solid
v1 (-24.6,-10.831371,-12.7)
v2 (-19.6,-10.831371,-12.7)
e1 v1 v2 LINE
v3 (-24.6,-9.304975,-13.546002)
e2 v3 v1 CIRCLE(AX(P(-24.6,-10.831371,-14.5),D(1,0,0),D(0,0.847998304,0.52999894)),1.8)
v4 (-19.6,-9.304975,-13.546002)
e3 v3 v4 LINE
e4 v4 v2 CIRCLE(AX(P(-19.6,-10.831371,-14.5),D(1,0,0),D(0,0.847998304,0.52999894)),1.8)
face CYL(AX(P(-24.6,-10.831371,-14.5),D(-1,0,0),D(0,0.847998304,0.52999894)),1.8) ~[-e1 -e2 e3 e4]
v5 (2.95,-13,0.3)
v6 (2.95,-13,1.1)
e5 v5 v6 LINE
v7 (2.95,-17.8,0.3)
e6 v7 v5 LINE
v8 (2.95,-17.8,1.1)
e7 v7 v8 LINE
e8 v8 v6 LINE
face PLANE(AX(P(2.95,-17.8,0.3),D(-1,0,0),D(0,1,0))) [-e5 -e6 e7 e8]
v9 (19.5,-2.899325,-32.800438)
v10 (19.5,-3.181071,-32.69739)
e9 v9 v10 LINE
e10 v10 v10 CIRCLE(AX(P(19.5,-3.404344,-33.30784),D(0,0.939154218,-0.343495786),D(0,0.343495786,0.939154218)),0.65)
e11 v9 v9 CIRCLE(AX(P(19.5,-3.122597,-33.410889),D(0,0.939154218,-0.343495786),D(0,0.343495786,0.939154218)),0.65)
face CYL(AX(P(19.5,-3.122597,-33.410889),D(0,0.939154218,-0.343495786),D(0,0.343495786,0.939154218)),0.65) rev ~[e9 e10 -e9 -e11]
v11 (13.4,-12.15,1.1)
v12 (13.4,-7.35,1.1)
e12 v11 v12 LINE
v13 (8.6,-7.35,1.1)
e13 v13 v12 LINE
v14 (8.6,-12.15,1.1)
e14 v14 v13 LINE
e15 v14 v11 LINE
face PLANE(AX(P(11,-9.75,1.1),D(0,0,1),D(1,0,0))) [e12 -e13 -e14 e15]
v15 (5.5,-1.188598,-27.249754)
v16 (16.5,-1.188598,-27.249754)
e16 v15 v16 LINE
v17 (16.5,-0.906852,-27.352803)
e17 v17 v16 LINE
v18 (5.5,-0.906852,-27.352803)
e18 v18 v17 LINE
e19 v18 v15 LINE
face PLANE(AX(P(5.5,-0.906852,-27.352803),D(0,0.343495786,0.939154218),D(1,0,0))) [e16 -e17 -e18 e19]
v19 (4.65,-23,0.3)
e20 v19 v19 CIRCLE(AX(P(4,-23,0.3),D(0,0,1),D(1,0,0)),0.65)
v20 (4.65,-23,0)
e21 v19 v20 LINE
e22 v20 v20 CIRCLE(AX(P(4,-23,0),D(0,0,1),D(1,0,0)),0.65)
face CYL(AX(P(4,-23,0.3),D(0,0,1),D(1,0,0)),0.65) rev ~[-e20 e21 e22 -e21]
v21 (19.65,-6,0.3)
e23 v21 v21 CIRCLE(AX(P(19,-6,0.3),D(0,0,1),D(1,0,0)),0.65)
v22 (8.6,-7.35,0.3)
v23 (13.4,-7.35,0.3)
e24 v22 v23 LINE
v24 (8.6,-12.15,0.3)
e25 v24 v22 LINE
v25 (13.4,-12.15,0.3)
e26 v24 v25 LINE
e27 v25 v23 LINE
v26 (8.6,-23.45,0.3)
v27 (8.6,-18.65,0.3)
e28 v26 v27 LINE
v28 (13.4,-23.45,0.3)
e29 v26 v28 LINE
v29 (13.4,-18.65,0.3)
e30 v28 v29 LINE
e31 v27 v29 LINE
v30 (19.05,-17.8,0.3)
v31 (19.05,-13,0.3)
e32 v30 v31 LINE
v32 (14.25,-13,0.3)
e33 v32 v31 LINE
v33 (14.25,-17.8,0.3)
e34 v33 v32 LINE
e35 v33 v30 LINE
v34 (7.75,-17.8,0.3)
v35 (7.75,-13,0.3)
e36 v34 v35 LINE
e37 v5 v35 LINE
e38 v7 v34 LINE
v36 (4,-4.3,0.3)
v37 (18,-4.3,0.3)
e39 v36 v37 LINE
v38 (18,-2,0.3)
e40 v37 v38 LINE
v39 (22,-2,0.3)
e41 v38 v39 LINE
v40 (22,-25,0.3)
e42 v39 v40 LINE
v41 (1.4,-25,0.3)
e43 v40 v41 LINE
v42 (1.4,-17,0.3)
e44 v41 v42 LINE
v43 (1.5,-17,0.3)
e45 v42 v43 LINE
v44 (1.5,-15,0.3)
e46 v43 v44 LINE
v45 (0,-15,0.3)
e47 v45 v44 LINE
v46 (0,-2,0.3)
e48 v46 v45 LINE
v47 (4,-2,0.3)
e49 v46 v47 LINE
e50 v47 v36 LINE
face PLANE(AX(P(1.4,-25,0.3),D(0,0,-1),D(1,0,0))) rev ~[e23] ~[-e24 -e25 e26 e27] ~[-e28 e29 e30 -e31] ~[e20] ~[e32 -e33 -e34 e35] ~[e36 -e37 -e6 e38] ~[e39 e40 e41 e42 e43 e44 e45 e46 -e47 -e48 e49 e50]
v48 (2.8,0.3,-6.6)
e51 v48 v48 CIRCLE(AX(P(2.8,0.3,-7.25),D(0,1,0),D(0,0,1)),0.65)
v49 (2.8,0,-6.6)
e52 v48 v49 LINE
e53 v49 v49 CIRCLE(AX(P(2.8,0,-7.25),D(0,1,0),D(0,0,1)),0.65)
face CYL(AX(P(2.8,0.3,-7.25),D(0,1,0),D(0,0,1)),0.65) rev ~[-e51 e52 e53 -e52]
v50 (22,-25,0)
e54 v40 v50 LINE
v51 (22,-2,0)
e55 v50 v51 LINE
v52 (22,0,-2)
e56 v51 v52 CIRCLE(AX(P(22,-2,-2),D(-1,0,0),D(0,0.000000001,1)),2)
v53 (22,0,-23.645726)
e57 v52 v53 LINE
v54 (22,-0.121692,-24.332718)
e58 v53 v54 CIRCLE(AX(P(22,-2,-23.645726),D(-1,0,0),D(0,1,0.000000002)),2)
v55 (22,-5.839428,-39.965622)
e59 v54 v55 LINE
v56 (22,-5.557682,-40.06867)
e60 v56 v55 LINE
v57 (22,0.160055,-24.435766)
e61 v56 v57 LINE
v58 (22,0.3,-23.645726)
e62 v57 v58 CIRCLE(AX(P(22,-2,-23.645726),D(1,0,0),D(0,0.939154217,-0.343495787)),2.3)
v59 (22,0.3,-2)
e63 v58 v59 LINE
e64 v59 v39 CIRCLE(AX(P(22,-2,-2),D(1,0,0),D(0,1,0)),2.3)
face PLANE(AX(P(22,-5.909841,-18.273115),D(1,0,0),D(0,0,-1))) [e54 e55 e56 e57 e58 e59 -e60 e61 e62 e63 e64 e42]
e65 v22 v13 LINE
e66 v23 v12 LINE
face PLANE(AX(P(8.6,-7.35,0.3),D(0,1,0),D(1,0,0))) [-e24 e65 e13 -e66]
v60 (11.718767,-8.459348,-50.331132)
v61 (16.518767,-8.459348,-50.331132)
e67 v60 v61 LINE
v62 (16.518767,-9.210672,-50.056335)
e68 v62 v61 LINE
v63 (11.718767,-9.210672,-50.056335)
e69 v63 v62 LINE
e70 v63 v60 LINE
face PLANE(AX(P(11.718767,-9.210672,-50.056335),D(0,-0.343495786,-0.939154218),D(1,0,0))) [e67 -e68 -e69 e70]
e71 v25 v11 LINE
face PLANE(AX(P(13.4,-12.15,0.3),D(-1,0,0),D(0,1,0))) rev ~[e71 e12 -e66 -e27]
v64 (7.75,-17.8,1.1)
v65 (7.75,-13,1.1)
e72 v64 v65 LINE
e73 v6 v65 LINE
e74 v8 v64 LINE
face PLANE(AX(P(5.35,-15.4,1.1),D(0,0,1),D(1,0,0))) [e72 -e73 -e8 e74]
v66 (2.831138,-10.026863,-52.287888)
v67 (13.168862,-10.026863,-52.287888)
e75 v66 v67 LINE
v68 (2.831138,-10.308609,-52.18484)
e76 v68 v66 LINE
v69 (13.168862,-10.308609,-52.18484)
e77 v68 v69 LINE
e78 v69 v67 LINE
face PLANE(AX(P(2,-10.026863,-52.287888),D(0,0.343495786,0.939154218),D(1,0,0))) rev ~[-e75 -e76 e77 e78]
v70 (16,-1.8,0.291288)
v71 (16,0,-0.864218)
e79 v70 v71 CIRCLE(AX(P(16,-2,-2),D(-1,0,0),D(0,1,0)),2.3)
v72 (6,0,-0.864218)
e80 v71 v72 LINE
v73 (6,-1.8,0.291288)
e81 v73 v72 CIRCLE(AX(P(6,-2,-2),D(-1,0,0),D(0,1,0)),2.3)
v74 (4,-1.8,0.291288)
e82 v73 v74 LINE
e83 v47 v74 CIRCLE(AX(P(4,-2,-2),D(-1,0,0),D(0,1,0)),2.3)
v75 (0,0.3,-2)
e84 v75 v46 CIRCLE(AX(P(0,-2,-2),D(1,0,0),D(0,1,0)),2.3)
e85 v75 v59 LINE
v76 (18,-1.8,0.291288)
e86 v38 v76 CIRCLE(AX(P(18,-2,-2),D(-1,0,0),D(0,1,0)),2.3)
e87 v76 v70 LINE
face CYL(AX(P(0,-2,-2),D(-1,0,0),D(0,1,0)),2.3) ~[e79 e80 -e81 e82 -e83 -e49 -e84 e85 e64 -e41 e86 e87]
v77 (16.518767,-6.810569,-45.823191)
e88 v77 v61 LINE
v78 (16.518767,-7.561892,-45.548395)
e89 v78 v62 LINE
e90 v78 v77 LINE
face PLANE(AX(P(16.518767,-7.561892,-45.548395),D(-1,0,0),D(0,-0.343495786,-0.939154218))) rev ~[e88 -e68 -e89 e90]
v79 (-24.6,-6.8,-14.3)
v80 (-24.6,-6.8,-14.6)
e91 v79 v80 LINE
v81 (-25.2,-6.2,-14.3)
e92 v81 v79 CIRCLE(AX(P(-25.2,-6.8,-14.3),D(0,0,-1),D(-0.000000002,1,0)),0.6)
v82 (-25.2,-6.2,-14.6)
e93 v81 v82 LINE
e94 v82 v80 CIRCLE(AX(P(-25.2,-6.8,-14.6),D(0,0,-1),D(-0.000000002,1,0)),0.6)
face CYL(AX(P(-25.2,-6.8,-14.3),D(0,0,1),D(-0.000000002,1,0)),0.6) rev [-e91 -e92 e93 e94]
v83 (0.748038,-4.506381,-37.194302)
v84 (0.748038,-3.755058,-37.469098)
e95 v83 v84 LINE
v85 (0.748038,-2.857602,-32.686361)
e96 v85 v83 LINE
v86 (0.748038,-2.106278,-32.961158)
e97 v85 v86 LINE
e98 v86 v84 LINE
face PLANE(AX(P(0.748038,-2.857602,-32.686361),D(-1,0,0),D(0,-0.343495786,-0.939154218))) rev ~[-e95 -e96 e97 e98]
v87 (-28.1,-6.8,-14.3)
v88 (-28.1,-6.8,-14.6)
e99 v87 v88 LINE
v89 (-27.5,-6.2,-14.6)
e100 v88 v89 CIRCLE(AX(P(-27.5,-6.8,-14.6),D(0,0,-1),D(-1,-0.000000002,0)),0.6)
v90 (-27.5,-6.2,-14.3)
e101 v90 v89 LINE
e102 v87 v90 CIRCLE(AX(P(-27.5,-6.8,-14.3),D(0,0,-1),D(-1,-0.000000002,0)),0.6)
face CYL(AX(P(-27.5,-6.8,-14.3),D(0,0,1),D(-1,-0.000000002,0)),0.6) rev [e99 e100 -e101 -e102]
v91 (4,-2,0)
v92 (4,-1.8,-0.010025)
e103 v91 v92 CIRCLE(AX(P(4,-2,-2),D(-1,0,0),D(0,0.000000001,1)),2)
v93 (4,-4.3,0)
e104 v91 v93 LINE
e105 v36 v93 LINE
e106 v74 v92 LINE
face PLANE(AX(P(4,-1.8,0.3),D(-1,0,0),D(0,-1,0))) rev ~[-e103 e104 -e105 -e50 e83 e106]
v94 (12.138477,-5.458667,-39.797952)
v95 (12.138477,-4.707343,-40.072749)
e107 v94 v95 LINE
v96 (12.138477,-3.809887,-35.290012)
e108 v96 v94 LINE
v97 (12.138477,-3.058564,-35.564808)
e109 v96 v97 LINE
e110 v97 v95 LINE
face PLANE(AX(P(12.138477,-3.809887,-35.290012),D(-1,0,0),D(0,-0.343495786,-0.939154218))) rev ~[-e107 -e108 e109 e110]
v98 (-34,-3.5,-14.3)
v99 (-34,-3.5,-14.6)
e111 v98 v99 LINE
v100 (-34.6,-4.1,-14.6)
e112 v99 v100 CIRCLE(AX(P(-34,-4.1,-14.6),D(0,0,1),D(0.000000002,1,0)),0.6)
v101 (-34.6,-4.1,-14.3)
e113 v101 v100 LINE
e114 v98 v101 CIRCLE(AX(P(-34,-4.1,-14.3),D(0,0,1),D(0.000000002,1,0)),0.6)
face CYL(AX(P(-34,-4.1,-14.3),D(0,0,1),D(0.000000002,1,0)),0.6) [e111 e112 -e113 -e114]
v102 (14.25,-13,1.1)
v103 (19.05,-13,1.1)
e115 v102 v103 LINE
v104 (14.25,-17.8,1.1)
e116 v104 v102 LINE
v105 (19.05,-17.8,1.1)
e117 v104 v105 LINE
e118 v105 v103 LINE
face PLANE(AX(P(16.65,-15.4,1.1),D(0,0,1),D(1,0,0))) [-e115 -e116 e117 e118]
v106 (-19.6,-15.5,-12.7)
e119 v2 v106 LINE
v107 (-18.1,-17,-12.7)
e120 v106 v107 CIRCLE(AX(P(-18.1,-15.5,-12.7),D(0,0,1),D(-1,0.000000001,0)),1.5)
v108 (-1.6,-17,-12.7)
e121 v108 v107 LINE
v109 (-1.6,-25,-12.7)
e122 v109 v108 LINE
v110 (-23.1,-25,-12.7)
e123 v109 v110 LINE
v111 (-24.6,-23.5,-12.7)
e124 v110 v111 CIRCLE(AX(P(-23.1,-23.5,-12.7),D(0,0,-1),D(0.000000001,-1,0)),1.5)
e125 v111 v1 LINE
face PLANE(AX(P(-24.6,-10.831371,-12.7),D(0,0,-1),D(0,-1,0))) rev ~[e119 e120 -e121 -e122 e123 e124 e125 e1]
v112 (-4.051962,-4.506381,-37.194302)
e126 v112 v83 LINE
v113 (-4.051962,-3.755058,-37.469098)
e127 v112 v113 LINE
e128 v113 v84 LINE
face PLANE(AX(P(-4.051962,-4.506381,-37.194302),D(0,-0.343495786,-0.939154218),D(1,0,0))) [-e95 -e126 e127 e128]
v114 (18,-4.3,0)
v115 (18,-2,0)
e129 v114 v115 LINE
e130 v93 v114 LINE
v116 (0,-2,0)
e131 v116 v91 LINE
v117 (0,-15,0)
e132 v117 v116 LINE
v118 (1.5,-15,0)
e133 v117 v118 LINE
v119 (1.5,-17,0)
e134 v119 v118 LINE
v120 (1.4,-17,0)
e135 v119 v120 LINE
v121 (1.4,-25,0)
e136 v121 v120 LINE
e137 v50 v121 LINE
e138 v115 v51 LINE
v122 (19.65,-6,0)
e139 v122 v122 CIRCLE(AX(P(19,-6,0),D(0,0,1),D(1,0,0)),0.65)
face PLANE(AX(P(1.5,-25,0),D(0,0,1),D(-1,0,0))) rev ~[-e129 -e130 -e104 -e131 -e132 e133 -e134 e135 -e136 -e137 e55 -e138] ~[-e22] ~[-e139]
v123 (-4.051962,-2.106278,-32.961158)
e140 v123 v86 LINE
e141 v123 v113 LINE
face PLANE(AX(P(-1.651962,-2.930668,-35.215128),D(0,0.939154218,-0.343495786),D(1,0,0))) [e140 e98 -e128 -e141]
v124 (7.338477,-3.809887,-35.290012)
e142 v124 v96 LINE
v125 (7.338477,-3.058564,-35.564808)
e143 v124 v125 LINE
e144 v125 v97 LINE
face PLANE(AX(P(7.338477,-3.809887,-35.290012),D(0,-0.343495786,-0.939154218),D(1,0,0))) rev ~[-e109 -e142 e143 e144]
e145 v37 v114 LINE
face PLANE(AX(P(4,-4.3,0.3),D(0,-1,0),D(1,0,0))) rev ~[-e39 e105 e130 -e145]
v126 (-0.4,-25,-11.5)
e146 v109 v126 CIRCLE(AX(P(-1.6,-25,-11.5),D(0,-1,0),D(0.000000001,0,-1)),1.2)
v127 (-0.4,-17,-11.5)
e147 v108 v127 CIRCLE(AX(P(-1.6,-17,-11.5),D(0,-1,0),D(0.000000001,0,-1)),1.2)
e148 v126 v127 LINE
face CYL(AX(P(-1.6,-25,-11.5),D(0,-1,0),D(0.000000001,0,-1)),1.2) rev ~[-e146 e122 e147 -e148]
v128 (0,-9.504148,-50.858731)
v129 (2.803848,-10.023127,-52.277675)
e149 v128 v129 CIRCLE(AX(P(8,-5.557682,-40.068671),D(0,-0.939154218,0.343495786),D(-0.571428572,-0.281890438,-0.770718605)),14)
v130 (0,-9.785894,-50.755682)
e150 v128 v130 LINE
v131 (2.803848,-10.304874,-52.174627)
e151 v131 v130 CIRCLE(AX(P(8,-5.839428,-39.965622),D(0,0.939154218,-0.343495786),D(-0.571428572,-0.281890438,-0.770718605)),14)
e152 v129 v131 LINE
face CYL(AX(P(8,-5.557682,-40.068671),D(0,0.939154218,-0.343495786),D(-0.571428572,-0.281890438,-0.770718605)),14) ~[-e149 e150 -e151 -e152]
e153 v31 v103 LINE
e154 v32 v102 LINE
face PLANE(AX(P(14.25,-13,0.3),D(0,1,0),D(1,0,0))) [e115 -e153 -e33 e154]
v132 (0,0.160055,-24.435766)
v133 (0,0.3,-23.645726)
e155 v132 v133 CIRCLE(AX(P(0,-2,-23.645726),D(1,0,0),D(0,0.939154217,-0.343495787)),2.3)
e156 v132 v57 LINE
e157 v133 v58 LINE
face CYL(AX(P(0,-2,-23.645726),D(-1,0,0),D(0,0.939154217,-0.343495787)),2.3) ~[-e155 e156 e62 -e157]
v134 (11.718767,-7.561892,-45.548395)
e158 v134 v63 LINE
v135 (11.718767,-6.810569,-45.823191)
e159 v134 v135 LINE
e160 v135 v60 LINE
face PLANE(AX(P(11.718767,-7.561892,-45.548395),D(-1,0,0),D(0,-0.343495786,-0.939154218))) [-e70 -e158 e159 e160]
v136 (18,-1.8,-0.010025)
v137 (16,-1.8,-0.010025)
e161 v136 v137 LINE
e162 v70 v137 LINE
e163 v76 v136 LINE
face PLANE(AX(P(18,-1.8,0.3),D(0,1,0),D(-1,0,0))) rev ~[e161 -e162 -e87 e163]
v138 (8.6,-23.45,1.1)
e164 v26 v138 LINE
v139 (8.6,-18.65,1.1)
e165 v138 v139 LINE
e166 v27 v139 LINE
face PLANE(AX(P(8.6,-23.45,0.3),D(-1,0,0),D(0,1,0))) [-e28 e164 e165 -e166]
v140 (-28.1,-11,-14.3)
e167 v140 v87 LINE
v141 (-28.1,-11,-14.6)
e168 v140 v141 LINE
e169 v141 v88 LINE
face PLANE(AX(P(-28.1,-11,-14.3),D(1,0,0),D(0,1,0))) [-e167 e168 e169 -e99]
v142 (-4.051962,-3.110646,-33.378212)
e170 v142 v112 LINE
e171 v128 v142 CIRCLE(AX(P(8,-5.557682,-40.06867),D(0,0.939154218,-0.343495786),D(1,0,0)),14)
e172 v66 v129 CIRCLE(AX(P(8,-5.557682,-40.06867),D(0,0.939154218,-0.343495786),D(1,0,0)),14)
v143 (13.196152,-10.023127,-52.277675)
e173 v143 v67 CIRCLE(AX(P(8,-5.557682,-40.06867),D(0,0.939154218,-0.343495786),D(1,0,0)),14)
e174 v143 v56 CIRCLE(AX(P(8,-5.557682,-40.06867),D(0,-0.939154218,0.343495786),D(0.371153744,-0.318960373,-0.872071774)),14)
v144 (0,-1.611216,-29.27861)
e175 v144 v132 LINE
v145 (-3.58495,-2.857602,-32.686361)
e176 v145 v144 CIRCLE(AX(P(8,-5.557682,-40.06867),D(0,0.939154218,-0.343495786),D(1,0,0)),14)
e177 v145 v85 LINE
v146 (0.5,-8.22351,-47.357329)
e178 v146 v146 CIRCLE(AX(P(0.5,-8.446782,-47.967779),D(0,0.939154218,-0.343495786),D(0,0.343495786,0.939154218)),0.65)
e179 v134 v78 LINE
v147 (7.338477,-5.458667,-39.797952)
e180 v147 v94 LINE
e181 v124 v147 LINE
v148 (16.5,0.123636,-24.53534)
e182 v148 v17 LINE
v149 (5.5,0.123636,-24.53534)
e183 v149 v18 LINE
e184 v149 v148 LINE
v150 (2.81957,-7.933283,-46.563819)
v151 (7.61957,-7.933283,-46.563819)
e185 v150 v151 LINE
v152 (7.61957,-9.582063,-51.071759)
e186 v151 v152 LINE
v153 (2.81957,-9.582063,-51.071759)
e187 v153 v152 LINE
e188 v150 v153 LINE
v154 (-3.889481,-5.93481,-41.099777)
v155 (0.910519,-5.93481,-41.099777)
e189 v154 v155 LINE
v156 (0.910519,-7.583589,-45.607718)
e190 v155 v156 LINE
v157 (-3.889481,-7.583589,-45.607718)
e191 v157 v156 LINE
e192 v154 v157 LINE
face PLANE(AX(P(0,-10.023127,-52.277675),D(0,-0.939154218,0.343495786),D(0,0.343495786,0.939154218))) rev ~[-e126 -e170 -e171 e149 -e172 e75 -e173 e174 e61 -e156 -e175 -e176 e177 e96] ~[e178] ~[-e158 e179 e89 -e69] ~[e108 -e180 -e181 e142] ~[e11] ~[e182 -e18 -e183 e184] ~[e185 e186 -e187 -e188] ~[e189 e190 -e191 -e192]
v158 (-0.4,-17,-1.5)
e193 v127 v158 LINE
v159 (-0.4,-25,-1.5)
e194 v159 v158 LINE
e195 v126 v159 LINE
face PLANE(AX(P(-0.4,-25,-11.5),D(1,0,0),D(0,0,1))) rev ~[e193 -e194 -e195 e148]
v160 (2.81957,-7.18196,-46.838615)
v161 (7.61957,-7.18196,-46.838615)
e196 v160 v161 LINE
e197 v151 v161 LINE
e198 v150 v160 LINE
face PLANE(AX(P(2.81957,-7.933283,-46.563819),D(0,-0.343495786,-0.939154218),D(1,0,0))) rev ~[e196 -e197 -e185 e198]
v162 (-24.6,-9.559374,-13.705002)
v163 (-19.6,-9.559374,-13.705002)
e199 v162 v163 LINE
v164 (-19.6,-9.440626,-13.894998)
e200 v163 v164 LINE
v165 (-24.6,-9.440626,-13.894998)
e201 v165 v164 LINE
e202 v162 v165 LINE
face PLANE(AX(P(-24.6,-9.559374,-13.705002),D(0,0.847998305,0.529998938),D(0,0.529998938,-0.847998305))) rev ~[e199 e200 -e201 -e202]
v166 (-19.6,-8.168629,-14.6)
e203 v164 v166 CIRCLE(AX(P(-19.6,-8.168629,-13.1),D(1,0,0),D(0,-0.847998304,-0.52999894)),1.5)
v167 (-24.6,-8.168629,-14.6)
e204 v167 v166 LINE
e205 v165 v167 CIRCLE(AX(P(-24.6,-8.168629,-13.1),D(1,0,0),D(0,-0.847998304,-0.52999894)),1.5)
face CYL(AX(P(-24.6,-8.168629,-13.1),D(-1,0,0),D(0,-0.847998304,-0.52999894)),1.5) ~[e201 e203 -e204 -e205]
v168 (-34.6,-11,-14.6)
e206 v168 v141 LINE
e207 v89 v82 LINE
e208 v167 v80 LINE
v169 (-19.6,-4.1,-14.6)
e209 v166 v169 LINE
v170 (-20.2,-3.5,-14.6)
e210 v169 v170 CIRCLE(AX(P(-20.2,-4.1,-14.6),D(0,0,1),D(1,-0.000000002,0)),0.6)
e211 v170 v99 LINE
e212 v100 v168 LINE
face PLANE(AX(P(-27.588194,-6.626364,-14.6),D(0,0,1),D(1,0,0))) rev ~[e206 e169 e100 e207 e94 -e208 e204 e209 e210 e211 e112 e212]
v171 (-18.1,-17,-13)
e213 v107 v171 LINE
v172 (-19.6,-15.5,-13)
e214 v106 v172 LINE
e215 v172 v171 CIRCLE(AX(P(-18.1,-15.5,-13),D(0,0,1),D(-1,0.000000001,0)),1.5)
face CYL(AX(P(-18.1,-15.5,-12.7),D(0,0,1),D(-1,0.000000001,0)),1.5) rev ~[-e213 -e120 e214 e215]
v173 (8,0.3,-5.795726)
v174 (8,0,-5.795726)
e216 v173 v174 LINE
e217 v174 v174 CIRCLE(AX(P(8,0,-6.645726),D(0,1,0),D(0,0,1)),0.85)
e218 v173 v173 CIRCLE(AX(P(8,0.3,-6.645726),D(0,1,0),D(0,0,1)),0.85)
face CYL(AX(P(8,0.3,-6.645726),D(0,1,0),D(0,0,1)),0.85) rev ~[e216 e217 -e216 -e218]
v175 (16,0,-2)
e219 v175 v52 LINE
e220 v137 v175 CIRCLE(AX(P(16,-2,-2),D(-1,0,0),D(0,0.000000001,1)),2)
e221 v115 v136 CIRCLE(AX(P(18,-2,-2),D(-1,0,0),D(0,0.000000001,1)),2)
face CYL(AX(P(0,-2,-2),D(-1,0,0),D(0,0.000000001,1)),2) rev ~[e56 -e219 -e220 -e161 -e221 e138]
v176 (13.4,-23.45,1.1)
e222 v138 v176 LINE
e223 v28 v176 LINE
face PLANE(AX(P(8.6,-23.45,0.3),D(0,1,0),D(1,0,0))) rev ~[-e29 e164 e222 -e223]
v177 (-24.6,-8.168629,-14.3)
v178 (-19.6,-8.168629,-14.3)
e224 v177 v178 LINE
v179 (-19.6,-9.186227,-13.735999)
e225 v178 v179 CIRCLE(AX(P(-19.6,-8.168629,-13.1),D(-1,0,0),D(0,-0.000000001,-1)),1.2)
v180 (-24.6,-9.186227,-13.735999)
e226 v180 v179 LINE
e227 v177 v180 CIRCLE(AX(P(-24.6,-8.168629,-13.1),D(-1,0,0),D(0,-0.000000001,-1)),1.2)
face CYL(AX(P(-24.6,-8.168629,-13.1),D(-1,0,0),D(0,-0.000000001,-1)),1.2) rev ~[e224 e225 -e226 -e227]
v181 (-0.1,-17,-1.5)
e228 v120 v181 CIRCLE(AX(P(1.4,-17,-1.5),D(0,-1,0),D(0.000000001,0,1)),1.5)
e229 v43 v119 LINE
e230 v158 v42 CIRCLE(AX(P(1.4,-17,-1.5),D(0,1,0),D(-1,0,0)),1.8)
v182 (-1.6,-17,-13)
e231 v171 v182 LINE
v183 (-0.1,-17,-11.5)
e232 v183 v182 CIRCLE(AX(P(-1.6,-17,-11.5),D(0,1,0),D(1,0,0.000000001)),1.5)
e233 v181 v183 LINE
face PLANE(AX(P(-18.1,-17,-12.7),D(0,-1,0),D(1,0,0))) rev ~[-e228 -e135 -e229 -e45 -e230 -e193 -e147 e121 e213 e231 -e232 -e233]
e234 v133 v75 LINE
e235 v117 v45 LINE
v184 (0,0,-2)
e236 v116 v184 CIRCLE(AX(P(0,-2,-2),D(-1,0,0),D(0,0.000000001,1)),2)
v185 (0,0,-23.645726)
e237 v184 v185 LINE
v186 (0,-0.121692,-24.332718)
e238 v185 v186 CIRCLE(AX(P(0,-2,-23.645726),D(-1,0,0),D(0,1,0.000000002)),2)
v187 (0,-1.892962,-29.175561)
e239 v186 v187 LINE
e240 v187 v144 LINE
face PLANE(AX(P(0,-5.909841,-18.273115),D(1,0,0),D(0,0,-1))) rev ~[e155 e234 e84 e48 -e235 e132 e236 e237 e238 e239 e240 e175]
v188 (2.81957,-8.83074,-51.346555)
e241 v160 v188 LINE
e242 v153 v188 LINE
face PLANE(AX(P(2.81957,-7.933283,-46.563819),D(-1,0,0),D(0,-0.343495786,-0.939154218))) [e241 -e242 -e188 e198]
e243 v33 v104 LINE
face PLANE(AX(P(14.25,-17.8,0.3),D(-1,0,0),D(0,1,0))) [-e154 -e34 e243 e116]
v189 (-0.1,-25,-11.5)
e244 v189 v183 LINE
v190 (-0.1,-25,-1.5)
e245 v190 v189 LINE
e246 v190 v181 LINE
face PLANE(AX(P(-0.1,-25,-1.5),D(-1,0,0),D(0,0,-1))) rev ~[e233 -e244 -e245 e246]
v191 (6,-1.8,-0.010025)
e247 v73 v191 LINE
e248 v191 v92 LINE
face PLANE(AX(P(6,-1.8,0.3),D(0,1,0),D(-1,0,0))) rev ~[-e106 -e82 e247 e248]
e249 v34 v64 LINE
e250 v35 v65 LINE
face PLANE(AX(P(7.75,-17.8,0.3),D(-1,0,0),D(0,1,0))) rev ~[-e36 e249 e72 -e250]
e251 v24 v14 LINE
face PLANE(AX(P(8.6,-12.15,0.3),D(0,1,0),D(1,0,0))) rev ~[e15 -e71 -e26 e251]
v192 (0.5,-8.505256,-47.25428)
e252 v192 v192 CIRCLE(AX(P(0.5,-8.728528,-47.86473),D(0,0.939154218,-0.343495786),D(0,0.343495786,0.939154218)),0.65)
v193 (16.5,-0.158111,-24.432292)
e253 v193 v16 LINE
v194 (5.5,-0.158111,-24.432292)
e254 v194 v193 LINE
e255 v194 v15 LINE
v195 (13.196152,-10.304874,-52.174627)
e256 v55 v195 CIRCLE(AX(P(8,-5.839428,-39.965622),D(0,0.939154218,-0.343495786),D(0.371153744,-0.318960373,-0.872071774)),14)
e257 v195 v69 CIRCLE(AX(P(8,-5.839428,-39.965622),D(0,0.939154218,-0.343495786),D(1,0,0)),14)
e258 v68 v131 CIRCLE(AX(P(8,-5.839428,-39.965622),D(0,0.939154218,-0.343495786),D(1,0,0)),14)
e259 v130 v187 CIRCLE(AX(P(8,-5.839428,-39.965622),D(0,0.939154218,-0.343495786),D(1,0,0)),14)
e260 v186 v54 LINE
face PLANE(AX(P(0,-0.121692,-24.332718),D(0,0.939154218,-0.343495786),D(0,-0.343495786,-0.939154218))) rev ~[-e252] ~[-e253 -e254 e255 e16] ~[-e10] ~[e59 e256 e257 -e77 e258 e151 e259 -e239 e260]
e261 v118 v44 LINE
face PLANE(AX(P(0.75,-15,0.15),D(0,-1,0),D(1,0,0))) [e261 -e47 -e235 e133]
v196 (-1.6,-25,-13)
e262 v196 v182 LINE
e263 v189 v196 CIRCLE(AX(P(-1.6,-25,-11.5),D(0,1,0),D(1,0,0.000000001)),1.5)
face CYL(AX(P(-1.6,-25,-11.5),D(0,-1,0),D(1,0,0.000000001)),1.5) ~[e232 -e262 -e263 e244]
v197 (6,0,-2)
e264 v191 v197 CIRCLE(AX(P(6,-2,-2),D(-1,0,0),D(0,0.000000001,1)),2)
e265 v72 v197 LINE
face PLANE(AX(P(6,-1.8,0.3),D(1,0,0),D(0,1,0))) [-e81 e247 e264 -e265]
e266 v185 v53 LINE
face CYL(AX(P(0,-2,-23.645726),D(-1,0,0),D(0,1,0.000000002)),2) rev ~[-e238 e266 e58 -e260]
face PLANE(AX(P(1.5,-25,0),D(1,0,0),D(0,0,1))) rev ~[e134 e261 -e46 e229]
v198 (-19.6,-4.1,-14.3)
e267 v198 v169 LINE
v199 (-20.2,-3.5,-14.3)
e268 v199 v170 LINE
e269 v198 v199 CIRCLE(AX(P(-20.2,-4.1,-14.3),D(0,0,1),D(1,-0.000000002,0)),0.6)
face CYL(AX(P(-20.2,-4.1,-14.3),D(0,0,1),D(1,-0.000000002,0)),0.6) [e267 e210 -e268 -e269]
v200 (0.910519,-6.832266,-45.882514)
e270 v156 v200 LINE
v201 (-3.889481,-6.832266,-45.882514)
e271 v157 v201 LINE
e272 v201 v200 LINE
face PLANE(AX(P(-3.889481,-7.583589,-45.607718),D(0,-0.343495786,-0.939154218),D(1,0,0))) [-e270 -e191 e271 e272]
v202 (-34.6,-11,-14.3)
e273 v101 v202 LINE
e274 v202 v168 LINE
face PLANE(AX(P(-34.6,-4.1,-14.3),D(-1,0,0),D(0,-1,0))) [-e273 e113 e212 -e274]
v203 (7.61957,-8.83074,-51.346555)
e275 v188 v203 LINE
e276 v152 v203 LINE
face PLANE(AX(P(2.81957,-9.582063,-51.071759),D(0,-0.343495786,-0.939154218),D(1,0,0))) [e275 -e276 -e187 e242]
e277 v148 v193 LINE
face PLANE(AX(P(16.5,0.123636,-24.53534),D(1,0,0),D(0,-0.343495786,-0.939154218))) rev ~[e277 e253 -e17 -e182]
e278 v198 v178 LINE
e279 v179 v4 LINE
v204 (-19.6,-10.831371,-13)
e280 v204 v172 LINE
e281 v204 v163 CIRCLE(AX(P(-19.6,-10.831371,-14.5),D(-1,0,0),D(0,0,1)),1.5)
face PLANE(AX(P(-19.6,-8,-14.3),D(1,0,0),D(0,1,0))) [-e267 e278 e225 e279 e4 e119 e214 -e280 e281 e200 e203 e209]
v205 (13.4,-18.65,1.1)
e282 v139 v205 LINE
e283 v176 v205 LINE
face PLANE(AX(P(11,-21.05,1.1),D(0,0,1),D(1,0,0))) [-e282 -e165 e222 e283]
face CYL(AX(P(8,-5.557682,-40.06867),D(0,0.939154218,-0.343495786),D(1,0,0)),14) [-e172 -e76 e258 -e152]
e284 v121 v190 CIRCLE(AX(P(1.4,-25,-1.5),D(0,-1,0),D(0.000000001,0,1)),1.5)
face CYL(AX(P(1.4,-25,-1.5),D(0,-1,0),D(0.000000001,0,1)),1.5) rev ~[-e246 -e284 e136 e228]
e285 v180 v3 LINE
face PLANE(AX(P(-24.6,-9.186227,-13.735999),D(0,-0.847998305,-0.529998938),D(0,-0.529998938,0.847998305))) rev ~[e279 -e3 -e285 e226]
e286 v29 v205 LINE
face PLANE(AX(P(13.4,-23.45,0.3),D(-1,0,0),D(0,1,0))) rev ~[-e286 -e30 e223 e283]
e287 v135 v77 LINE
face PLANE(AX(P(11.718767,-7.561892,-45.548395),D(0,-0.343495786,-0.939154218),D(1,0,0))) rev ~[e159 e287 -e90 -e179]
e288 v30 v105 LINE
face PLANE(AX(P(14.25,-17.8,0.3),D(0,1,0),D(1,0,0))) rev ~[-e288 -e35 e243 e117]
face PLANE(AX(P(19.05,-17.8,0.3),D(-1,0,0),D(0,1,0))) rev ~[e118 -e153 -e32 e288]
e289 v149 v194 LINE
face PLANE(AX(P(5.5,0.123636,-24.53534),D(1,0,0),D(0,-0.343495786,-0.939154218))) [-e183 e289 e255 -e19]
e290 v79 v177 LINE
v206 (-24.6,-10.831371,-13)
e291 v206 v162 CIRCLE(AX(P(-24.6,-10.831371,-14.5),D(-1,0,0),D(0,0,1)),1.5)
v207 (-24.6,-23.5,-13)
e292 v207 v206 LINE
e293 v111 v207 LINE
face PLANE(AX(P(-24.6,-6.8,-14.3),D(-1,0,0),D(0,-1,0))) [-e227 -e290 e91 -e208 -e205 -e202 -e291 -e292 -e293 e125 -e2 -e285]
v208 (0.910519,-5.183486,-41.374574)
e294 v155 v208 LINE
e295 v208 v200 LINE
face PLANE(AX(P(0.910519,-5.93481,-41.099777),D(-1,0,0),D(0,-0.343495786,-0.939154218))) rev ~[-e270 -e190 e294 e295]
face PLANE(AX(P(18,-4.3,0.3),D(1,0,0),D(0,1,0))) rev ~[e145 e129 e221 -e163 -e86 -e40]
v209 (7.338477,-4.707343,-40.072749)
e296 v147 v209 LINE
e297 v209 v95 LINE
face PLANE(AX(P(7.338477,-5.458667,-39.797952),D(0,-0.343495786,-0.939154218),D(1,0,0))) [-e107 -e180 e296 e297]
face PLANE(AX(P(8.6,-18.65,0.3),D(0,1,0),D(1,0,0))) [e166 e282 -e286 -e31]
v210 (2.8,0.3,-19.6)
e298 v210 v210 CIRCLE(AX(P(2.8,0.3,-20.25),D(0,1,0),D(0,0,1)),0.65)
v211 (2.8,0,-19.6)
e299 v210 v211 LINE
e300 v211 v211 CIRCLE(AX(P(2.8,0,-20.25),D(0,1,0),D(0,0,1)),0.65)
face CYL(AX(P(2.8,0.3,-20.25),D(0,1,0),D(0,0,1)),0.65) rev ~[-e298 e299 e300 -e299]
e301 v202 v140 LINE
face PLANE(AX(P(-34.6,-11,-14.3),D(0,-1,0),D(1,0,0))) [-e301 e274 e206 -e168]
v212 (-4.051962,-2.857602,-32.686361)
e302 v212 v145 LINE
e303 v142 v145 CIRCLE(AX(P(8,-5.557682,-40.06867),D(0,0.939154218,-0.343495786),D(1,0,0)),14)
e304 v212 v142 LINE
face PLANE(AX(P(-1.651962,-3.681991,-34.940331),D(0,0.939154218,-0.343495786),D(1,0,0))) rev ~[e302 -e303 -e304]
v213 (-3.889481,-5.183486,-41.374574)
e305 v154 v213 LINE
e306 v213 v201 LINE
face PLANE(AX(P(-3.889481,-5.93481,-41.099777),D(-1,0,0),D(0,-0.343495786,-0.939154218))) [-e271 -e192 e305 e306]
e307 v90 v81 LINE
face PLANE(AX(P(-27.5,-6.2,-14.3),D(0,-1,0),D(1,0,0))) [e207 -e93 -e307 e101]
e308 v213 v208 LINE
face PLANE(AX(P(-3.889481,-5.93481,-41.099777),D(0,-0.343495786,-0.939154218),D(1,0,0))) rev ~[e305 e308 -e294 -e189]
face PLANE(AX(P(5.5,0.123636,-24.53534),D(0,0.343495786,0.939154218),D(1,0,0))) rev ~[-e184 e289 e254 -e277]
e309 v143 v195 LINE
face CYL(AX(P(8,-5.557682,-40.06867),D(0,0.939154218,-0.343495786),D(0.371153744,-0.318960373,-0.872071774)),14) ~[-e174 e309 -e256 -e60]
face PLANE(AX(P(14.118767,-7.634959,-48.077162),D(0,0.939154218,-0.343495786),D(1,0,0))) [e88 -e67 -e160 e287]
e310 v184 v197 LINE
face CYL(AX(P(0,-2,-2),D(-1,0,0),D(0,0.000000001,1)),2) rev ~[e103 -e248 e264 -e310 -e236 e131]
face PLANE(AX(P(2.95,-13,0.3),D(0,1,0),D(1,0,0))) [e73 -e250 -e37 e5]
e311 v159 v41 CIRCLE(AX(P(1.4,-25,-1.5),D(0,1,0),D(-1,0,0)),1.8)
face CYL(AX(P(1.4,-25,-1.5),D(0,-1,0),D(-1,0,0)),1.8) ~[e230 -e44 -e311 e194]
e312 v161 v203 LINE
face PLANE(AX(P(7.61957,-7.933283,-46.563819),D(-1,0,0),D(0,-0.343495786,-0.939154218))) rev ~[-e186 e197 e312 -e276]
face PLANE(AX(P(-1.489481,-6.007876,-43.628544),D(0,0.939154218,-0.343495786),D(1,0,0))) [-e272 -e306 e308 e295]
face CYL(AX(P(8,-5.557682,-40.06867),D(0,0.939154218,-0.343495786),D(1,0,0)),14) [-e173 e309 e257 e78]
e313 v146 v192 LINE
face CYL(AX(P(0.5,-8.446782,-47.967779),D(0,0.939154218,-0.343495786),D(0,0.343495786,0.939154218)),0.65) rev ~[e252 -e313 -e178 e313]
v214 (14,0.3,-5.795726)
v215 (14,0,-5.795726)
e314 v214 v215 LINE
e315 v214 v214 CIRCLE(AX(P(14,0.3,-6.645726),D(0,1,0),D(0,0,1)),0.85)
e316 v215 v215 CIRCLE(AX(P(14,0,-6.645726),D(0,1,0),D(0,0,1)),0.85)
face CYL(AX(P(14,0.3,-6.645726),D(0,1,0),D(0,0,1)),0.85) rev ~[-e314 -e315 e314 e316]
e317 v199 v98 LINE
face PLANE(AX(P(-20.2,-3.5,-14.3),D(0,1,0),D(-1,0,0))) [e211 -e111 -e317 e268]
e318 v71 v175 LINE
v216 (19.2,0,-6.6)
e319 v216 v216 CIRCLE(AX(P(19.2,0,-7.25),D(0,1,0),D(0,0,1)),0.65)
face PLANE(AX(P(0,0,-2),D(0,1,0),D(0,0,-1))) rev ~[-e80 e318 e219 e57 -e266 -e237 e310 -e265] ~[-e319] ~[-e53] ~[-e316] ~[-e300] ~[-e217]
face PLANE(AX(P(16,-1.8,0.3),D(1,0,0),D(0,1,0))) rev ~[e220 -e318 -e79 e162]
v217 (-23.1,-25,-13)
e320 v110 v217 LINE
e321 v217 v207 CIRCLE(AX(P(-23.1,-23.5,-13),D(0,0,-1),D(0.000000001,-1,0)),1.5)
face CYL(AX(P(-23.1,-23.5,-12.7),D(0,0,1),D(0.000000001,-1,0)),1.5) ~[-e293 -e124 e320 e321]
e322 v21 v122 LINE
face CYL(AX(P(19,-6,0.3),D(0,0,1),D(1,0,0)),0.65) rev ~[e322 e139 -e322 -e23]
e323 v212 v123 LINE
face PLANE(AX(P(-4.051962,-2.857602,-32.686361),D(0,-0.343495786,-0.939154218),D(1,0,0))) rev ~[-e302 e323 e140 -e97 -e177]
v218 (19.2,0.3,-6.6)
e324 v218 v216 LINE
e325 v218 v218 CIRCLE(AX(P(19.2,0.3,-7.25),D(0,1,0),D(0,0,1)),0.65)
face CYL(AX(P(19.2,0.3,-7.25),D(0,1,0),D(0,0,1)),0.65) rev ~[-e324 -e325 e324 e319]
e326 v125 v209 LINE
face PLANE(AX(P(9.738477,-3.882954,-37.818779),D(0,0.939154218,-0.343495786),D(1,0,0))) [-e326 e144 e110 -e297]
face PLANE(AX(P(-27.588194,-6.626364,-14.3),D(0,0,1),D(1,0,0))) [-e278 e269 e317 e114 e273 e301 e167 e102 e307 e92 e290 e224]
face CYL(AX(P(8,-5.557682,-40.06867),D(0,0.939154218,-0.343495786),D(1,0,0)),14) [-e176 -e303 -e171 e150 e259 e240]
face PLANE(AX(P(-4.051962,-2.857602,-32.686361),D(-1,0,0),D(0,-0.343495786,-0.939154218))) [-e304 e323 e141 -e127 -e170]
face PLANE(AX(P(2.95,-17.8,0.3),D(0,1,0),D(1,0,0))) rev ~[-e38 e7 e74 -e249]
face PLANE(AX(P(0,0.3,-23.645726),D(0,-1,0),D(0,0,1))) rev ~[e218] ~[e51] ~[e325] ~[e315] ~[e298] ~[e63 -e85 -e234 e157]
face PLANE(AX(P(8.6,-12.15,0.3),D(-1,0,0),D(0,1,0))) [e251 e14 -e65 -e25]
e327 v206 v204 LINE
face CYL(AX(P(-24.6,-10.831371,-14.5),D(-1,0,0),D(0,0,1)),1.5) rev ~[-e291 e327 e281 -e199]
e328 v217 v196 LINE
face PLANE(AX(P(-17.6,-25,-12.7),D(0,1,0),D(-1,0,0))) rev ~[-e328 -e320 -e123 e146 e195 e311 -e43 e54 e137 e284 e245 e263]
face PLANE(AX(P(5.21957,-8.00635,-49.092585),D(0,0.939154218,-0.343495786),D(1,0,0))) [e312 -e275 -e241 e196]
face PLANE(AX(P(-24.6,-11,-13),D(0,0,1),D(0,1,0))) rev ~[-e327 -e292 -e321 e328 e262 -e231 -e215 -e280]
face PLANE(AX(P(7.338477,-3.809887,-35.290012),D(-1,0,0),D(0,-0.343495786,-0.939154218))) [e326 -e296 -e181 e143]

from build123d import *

# Parameters (mm, degrees)
EXTRUDE_1_DEPTH     = 22
CUT_EXTRUDE_1_DEPTH = 4
CUT_EXTRUDE_2_DEPTH = 64.319089808
SKETCH_3_3_R        = 14
EXTRUDE_2_DEPTH     = 0.3
SKETCH_4_W          = 4.8
SKETCH_4_H          = 4.8
EXTRUDE_3_DEPTH     = 0.8
SKETCH_5_R          = 0.85
CUT_EXTRUDE_3_DEPTH = 63.897702188
SKETCH_6_W          = 11
SKETCH_6_H          = 3
CUT_EXTRUDE_4_DEPTH = 1
SKETCH_7_W          = 4.8
SKETCH_7_H          = 4.8
EXTRUDE_4_DEPTH     = 0.8
SKETCH_9_W          = 1.5
SKETCH_9_H          = 0.3
CUT_EXTRUDE_5_DEPTH = 10
EXTRUDE_5_DEPTH     = 8
EXTRUDE_6_DEPTH     = 0.3
EXTRUDE_7_DEPTH     = 5
EXTRUDE_8_DEPTH     = 0.3
SKETCH_14_R         = 0.65
SKETCH_14_W         = 12
SKETCH_14_H         = 2
CUT_EXTRUDE_6_DEPTH = 4
SKETCH_15_R         = 0.65
CUT_EXTRUDE_7_DEPTH = 4
SKETCH_16_R         = 0.65
CUT_EXTRUDE_8_DEPTH = 4


with BuildPart() as part:
    # 草图1 → 凸台-拉伸1 (new body)
    with BuildSketch(Plane(origin=(0, 0, 0), x_dir=(0, 0, -1), z_dir=(1, 0, 0))):
        with BuildLine():
            Line((0, -25), (0, -2))
            ThreePointArc((0, -2), (0.585786438, -0.585786438), (2, 0))
            Line((2, 0), (23.64572618, 0))
            ThreePointArc((23.64572618, 0), (23.99456936, -0.030657867), (24.332717753, -0.121691565))
            Line((24.332717753, -0.121691565), (52.174626532, -10.304873595))
            Line((52.174626532, -10.304873595), (52.277675268, -10.023127329))
            Line((52.277675268, -10.023127329), (24.435766489, 0.160054701))
            ThreePointArc((24.435766489, 0.160054701), (24.046895837, 0.264743453), (23.64572618, 0.3))
            Line((23.64572618, 0.3), (2, 0.3))
            ThreePointArc((2, 0.3), (0.373654403, -0.373654403), (-0.3, -2))
            Line((-0.3, -2), (-0.3, -25))
            Line((-0.3, -25), (0, -25))
        make_face()
    extrude(amount=EXTRUDE_1_DEPTH)

    # 草图2 → 切除-拉伸1 (cut)
    with BuildSketch(Plane.XY.offset(0.3)):
        Polygon((4, -4.3), (18, -4.3), (18, -1.8), (16, -1.8), (16, 0), (6, 0), (6, -1.8), (4, -1.8), align=None)
    extrude(amount=-CUT_EXTRUDE_1_DEPTH, mode=Mode.SUBTRACT)

    # 草图3 → 切除-拉伸2 (cut, through all)
    with BuildSketch(Plane(origin=(0, 8.024038665, -2.934793264), x_dir=(1, 0, 0), z_dir=(0, 0.9391542177229502, -0.3434957864853564))):
        with BuildLine():
            ThreePointArc((13.196152423, 52.539701225), (19.591939741, 47.38998358), (22, 39.539701225))
            Line((22, 39.539701225), (22, 52.539701225))
            Line((22, 52.539701225), (13.196152423, 52.539701225))
        make_face()
        with BuildLine():
            ThreePointArc((0, 51.028826518), (1.358818231, 51.864258204), (2.803847577, 52.539701225))
            Line((2.803847577, 52.539701225), (0, 52.539701225))
            Line((0, 52.539701225), (0, 51.028826518))
        make_face()
    extrude(amount=-CUT_EXTRUDE_2_DEPTH, mode=Mode.SUBTRACT)

    # 草图3<3> → 凸台-拉伸2 (add)
    with BuildSketch(Plane(origin=(0, 8.024038665, -2.934793264), x_dir=(1, 0, 0), z_dir=(0, 0.9391542177229502, -0.3434957864853564))):
        with Locations((8, 39.539701225)):
            Circle(SKETCH_3_3_R)
    extrude(amount=-EXTRUDE_2_DEPTH)

    # 草图4 → 凸台-拉伸3 (add)
    with BuildSketch(Plane.XY.offset(0.3)):
        with Locations((11, -9.75)):
            Rectangle(SKETCH_4_W, SKETCH_4_H)
        with Locations((11, -21.05)):
            Rectangle(SKETCH_4_W, SKETCH_4_H)
        with Locations((5.35, -15.4)):
            Rectangle(SKETCH_4_W, SKETCH_4_H)
        with Locations((16.65, -15.4)):
            Rectangle(SKETCH_4_W, SKETCH_4_H)
    extrude(amount=EXTRUDE_3_DEPTH)

    # 草图5 → 切除-拉伸3 (cut, through all)
    with BuildSketch(Plane(origin=(0, 0.3, 0), x_dir=(1, 0, 0), z_dir=(0, 1, 0))):
        with Locations((8, 6.64572618)):
            Circle(SKETCH_5_R)
        with Locations((14, 6.64572618)):
            Circle(SKETCH_5_R)
    extrude(amount=-CUT_EXTRUDE_3_DEPTH, mode=Mode.SUBTRACT)

    # 草图6 → 切除-拉伸4 (cut)
    with BuildSketch(Plane(origin=(0, 8.024038665, -2.934793264), x_dir=(1, 0, 0), z_dir=(0, 0.9391542177229502, -0.3434957864853564))):
        with Locations((11, 24.5)):
            Rectangle(SKETCH_6_W, SKETCH_6_H)
    extrude(amount=-CUT_EXTRUDE_4_DEPTH, mode=Mode.SUBTRACT)

    # 草图7 → 凸台-拉伸4 (add)
    with BuildSketch(Plane(origin=(0, 8.024038665, -2.934793264), x_dir=(1, 0, 0), z_dir=(0, 0.9391542177229502, -0.3434957864853564))):
        with Locations((9.738477049, 36.851443585)):
            Rectangle(SKETCH_7_W, SKETCH_7_H)
        with Locations((14.118767038, 47.774445204)):
            Rectangle(SKETCH_7_W, SKETCH_7_H)
        with Locations((5.219570287, 48.855656024)):
            Rectangle(SKETCH_7_W, SKETCH_7_H)
        with Locations((-1.489481468, 43.037611303)):
            Rectangle(SKETCH_7_W, SKETCH_7_H)
        with Locations((-1.651961899, 34.079108149)):
            Rectangle(SKETCH_7_W, SKETCH_7_H)
    extrude(amount=EXTRUDE_4_DEPTH)

    # 草图9 → 切除-拉伸5 (cut)
    with BuildSketch(Plane.XZ.offset(25)):
        with Locations((0.75, 0.15)):
            Rectangle(SKETCH_9_W, SKETCH_9_H)
    extrude(amount=-CUT_EXTRUDE_5_DEPTH, mode=Mode.SUBTRACT)

    # 草图10 → 凸台-拉伸5 (add)
    with BuildSketch(Plane.XZ.offset(25)):
        with BuildLine():
            Line((1.5, 0), (1.4, 0))
            ThreePointArc((1.4, 0), (0.339339828, -0.439339828), (-0.1, -1.5))
            Line((-0.1, -1.5), (-0.1, -11.5))
            ThreePointArc((-0.1, -11.5), (-0.539339828, -12.560660172), (-1.6, -13))
            Line((-1.6, -13), (-17.6, -13))
            Line((-17.6, -13), (-17.6, -12.7))
            Line((-17.6, -12.7), (-1.6, -12.7))
            ThreePointArc((-1.6, -12.7), (-0.751471863, -12.348528137), (-0.4, -11.5))
            Line((-0.4, -11.5), (-0.4, -1.5))
            ThreePointArc((-0.4, -1.5), (0.127207794, -0.227207794), (1.4, 0.3))
            Line((1.4, 0.3), (1.5, 0.3))
            Line((1.5, 0.3), (1.5, 0))
        make_face()
    extrude(amount=-EXTRUDE_5_DEPTH)

    # 草图11 → 凸台-拉伸6 (add)
    with BuildSketch(Plane.XY.offset(-12.7)):
        with BuildLine():
            Line((-17.6, -17), (-17.6, -25))
            Line((-17.6, -25), (-23.1, -25))
            ThreePointArc((-23.1, -25), (-24.160660172, -24.560660172), (-24.6, -23.5))
            Line((-24.6, -23.5), (-24.6, -11))
            Line((-24.6, -11), (-19.6, -11))
            Line((-19.6, -11), (-19.6, -15.5))
            ThreePointArc((-19.6, -15.5), (-19.160660172, -16.560660172), (-18.1, -17))
            Line((-18.1, -17), (-17.6, -17))
        make_face()
    extrude(amount=-EXTRUDE_6_DEPTH)

    # 草图12 → 凸台-拉伸7 (add)
    with BuildSketch(Plane.ZY.offset(24.6)):
        with BuildLine():
            Line((-13, -11), (-13, -10.831371462))
            ThreePointArc((-13, -10.831371462), (-13.188036278, -10.104218664), (-13.70500159, -9.559374006))
            Line((-13.70500159, -9.559374006), (-13.89499841, -9.440625994))
            ThreePointArc((-13.89499841, -9.440625994), (-14.411963722, -8.895781336), (-14.6, -8.168628538))
            Line((-14.6, -8.168628538), (-14.6, -8))
            Line((-14.6, -8), (-14.3, -8))
            Line((-14.3, -8), (-14.3, -8.168628538))
            ThreePointArc((-14.3, -8.168628538), (-14.149570977, -8.750350777), (-13.735998728, -9.186226503))
            Line((-13.735998728, -9.186226503), (-13.546001908, -9.304974515))
            ThreePointArc((-13.546001908, -9.304974515), (-12.925643534, -9.958788104), (-12.7, -10.831371462))
            Line((-12.7, -10.831371462), (-12.7, -11))
            Line((-12.7, -11), (-13, -11))
        make_face()
    extrude(amount=-EXTRUDE_7_DEPTH)

    # 草图13 → 凸台-拉伸8 (add)
    with BuildSketch(Plane.XY.offset(-14.3)):
        with BuildLine():
            Line((-24.6, -8), (-19.6, -8))
            Line((-19.6, -8), (-19.6, -4.1))
            ThreePointArc((-19.6, -4.1), (-19.775735931, -3.675735931), (-20.2, -3.5))
            Line((-20.2, -3.5), (-34, -3.5))
            ThreePointArc((-34, -3.5), (-34.424264069, -3.675735931), (-34.6, -4.1))
            Line((-34.6, -4.1), (-34.6, -11))
            Line((-34.6, -11), (-28.1, -11))
            Line((-28.1, -11), (-28.1, -6.8))
            ThreePointArc((-28.1, -6.8), (-27.924264069, -6.375735931), (-27.5, -6.2))
            Line((-27.5, -6.2), (-25.2, -6.2))
            ThreePointArc((-25.2, -6.2), (-24.775735931, -6.375735931), (-24.6, -6.8))
            Line((-24.6, -6.8), (-24.6, -8))
        make_face()
    extrude(amount=-EXTRUDE_8_DEPTH)

    # 草图14 → 切除-拉伸6 (cut)
    with BuildSketch(Plane(origin=(0, 8.024038665, -2.934793264), x_dir=(1, 0, 0), z_dir=(0, 0.9391542177229502, -0.3434957864853564))):
        with Locations((0.5, 47.950575932)):
            Circle(SKETCH_14_R)
        with Locations((19.5, 32.450575932)):
            Circle(SKETCH_14_R)
        with Locations((8, 53.550575932)):
            Rectangle(SKETCH_14_W, SKETCH_14_H)
    extrude(amount=-CUT_EXTRUDE_6_DEPTH, mode=Mode.SUBTRACT)

    # 草图15 → 切除-拉伸7 (cut)
    with BuildSketch(Plane(origin=(0, 0.3, 0), x_dir=(1, 0, 0), z_dir=(0, 1, 0))):
        with Locations((2.8, 20.25)):
            Circle(SKETCH_15_R)
        with Locations((2.8, 7.25)):
            Circle(SKETCH_15_R)
        with Locations((19.2, 7.25)):
            Circle(SKETCH_15_R)
    extrude(amount=-CUT_EXTRUDE_7_DEPTH, mode=Mode.SUBTRACT)

    # 草图16 → 切除-拉伸8 (cut)
    with BuildSketch(Plane.XY.offset(0.3)):
        with Locations((19, -6)):
            Circle(SKETCH_16_R)
        with Locations((4, -23)):
            Circle(SKETCH_16_R)
    extrude(amount=-CUT_EXTRUDE_8_DEPTH, mode=Mode.SUBTRACT)


solid = part.part
